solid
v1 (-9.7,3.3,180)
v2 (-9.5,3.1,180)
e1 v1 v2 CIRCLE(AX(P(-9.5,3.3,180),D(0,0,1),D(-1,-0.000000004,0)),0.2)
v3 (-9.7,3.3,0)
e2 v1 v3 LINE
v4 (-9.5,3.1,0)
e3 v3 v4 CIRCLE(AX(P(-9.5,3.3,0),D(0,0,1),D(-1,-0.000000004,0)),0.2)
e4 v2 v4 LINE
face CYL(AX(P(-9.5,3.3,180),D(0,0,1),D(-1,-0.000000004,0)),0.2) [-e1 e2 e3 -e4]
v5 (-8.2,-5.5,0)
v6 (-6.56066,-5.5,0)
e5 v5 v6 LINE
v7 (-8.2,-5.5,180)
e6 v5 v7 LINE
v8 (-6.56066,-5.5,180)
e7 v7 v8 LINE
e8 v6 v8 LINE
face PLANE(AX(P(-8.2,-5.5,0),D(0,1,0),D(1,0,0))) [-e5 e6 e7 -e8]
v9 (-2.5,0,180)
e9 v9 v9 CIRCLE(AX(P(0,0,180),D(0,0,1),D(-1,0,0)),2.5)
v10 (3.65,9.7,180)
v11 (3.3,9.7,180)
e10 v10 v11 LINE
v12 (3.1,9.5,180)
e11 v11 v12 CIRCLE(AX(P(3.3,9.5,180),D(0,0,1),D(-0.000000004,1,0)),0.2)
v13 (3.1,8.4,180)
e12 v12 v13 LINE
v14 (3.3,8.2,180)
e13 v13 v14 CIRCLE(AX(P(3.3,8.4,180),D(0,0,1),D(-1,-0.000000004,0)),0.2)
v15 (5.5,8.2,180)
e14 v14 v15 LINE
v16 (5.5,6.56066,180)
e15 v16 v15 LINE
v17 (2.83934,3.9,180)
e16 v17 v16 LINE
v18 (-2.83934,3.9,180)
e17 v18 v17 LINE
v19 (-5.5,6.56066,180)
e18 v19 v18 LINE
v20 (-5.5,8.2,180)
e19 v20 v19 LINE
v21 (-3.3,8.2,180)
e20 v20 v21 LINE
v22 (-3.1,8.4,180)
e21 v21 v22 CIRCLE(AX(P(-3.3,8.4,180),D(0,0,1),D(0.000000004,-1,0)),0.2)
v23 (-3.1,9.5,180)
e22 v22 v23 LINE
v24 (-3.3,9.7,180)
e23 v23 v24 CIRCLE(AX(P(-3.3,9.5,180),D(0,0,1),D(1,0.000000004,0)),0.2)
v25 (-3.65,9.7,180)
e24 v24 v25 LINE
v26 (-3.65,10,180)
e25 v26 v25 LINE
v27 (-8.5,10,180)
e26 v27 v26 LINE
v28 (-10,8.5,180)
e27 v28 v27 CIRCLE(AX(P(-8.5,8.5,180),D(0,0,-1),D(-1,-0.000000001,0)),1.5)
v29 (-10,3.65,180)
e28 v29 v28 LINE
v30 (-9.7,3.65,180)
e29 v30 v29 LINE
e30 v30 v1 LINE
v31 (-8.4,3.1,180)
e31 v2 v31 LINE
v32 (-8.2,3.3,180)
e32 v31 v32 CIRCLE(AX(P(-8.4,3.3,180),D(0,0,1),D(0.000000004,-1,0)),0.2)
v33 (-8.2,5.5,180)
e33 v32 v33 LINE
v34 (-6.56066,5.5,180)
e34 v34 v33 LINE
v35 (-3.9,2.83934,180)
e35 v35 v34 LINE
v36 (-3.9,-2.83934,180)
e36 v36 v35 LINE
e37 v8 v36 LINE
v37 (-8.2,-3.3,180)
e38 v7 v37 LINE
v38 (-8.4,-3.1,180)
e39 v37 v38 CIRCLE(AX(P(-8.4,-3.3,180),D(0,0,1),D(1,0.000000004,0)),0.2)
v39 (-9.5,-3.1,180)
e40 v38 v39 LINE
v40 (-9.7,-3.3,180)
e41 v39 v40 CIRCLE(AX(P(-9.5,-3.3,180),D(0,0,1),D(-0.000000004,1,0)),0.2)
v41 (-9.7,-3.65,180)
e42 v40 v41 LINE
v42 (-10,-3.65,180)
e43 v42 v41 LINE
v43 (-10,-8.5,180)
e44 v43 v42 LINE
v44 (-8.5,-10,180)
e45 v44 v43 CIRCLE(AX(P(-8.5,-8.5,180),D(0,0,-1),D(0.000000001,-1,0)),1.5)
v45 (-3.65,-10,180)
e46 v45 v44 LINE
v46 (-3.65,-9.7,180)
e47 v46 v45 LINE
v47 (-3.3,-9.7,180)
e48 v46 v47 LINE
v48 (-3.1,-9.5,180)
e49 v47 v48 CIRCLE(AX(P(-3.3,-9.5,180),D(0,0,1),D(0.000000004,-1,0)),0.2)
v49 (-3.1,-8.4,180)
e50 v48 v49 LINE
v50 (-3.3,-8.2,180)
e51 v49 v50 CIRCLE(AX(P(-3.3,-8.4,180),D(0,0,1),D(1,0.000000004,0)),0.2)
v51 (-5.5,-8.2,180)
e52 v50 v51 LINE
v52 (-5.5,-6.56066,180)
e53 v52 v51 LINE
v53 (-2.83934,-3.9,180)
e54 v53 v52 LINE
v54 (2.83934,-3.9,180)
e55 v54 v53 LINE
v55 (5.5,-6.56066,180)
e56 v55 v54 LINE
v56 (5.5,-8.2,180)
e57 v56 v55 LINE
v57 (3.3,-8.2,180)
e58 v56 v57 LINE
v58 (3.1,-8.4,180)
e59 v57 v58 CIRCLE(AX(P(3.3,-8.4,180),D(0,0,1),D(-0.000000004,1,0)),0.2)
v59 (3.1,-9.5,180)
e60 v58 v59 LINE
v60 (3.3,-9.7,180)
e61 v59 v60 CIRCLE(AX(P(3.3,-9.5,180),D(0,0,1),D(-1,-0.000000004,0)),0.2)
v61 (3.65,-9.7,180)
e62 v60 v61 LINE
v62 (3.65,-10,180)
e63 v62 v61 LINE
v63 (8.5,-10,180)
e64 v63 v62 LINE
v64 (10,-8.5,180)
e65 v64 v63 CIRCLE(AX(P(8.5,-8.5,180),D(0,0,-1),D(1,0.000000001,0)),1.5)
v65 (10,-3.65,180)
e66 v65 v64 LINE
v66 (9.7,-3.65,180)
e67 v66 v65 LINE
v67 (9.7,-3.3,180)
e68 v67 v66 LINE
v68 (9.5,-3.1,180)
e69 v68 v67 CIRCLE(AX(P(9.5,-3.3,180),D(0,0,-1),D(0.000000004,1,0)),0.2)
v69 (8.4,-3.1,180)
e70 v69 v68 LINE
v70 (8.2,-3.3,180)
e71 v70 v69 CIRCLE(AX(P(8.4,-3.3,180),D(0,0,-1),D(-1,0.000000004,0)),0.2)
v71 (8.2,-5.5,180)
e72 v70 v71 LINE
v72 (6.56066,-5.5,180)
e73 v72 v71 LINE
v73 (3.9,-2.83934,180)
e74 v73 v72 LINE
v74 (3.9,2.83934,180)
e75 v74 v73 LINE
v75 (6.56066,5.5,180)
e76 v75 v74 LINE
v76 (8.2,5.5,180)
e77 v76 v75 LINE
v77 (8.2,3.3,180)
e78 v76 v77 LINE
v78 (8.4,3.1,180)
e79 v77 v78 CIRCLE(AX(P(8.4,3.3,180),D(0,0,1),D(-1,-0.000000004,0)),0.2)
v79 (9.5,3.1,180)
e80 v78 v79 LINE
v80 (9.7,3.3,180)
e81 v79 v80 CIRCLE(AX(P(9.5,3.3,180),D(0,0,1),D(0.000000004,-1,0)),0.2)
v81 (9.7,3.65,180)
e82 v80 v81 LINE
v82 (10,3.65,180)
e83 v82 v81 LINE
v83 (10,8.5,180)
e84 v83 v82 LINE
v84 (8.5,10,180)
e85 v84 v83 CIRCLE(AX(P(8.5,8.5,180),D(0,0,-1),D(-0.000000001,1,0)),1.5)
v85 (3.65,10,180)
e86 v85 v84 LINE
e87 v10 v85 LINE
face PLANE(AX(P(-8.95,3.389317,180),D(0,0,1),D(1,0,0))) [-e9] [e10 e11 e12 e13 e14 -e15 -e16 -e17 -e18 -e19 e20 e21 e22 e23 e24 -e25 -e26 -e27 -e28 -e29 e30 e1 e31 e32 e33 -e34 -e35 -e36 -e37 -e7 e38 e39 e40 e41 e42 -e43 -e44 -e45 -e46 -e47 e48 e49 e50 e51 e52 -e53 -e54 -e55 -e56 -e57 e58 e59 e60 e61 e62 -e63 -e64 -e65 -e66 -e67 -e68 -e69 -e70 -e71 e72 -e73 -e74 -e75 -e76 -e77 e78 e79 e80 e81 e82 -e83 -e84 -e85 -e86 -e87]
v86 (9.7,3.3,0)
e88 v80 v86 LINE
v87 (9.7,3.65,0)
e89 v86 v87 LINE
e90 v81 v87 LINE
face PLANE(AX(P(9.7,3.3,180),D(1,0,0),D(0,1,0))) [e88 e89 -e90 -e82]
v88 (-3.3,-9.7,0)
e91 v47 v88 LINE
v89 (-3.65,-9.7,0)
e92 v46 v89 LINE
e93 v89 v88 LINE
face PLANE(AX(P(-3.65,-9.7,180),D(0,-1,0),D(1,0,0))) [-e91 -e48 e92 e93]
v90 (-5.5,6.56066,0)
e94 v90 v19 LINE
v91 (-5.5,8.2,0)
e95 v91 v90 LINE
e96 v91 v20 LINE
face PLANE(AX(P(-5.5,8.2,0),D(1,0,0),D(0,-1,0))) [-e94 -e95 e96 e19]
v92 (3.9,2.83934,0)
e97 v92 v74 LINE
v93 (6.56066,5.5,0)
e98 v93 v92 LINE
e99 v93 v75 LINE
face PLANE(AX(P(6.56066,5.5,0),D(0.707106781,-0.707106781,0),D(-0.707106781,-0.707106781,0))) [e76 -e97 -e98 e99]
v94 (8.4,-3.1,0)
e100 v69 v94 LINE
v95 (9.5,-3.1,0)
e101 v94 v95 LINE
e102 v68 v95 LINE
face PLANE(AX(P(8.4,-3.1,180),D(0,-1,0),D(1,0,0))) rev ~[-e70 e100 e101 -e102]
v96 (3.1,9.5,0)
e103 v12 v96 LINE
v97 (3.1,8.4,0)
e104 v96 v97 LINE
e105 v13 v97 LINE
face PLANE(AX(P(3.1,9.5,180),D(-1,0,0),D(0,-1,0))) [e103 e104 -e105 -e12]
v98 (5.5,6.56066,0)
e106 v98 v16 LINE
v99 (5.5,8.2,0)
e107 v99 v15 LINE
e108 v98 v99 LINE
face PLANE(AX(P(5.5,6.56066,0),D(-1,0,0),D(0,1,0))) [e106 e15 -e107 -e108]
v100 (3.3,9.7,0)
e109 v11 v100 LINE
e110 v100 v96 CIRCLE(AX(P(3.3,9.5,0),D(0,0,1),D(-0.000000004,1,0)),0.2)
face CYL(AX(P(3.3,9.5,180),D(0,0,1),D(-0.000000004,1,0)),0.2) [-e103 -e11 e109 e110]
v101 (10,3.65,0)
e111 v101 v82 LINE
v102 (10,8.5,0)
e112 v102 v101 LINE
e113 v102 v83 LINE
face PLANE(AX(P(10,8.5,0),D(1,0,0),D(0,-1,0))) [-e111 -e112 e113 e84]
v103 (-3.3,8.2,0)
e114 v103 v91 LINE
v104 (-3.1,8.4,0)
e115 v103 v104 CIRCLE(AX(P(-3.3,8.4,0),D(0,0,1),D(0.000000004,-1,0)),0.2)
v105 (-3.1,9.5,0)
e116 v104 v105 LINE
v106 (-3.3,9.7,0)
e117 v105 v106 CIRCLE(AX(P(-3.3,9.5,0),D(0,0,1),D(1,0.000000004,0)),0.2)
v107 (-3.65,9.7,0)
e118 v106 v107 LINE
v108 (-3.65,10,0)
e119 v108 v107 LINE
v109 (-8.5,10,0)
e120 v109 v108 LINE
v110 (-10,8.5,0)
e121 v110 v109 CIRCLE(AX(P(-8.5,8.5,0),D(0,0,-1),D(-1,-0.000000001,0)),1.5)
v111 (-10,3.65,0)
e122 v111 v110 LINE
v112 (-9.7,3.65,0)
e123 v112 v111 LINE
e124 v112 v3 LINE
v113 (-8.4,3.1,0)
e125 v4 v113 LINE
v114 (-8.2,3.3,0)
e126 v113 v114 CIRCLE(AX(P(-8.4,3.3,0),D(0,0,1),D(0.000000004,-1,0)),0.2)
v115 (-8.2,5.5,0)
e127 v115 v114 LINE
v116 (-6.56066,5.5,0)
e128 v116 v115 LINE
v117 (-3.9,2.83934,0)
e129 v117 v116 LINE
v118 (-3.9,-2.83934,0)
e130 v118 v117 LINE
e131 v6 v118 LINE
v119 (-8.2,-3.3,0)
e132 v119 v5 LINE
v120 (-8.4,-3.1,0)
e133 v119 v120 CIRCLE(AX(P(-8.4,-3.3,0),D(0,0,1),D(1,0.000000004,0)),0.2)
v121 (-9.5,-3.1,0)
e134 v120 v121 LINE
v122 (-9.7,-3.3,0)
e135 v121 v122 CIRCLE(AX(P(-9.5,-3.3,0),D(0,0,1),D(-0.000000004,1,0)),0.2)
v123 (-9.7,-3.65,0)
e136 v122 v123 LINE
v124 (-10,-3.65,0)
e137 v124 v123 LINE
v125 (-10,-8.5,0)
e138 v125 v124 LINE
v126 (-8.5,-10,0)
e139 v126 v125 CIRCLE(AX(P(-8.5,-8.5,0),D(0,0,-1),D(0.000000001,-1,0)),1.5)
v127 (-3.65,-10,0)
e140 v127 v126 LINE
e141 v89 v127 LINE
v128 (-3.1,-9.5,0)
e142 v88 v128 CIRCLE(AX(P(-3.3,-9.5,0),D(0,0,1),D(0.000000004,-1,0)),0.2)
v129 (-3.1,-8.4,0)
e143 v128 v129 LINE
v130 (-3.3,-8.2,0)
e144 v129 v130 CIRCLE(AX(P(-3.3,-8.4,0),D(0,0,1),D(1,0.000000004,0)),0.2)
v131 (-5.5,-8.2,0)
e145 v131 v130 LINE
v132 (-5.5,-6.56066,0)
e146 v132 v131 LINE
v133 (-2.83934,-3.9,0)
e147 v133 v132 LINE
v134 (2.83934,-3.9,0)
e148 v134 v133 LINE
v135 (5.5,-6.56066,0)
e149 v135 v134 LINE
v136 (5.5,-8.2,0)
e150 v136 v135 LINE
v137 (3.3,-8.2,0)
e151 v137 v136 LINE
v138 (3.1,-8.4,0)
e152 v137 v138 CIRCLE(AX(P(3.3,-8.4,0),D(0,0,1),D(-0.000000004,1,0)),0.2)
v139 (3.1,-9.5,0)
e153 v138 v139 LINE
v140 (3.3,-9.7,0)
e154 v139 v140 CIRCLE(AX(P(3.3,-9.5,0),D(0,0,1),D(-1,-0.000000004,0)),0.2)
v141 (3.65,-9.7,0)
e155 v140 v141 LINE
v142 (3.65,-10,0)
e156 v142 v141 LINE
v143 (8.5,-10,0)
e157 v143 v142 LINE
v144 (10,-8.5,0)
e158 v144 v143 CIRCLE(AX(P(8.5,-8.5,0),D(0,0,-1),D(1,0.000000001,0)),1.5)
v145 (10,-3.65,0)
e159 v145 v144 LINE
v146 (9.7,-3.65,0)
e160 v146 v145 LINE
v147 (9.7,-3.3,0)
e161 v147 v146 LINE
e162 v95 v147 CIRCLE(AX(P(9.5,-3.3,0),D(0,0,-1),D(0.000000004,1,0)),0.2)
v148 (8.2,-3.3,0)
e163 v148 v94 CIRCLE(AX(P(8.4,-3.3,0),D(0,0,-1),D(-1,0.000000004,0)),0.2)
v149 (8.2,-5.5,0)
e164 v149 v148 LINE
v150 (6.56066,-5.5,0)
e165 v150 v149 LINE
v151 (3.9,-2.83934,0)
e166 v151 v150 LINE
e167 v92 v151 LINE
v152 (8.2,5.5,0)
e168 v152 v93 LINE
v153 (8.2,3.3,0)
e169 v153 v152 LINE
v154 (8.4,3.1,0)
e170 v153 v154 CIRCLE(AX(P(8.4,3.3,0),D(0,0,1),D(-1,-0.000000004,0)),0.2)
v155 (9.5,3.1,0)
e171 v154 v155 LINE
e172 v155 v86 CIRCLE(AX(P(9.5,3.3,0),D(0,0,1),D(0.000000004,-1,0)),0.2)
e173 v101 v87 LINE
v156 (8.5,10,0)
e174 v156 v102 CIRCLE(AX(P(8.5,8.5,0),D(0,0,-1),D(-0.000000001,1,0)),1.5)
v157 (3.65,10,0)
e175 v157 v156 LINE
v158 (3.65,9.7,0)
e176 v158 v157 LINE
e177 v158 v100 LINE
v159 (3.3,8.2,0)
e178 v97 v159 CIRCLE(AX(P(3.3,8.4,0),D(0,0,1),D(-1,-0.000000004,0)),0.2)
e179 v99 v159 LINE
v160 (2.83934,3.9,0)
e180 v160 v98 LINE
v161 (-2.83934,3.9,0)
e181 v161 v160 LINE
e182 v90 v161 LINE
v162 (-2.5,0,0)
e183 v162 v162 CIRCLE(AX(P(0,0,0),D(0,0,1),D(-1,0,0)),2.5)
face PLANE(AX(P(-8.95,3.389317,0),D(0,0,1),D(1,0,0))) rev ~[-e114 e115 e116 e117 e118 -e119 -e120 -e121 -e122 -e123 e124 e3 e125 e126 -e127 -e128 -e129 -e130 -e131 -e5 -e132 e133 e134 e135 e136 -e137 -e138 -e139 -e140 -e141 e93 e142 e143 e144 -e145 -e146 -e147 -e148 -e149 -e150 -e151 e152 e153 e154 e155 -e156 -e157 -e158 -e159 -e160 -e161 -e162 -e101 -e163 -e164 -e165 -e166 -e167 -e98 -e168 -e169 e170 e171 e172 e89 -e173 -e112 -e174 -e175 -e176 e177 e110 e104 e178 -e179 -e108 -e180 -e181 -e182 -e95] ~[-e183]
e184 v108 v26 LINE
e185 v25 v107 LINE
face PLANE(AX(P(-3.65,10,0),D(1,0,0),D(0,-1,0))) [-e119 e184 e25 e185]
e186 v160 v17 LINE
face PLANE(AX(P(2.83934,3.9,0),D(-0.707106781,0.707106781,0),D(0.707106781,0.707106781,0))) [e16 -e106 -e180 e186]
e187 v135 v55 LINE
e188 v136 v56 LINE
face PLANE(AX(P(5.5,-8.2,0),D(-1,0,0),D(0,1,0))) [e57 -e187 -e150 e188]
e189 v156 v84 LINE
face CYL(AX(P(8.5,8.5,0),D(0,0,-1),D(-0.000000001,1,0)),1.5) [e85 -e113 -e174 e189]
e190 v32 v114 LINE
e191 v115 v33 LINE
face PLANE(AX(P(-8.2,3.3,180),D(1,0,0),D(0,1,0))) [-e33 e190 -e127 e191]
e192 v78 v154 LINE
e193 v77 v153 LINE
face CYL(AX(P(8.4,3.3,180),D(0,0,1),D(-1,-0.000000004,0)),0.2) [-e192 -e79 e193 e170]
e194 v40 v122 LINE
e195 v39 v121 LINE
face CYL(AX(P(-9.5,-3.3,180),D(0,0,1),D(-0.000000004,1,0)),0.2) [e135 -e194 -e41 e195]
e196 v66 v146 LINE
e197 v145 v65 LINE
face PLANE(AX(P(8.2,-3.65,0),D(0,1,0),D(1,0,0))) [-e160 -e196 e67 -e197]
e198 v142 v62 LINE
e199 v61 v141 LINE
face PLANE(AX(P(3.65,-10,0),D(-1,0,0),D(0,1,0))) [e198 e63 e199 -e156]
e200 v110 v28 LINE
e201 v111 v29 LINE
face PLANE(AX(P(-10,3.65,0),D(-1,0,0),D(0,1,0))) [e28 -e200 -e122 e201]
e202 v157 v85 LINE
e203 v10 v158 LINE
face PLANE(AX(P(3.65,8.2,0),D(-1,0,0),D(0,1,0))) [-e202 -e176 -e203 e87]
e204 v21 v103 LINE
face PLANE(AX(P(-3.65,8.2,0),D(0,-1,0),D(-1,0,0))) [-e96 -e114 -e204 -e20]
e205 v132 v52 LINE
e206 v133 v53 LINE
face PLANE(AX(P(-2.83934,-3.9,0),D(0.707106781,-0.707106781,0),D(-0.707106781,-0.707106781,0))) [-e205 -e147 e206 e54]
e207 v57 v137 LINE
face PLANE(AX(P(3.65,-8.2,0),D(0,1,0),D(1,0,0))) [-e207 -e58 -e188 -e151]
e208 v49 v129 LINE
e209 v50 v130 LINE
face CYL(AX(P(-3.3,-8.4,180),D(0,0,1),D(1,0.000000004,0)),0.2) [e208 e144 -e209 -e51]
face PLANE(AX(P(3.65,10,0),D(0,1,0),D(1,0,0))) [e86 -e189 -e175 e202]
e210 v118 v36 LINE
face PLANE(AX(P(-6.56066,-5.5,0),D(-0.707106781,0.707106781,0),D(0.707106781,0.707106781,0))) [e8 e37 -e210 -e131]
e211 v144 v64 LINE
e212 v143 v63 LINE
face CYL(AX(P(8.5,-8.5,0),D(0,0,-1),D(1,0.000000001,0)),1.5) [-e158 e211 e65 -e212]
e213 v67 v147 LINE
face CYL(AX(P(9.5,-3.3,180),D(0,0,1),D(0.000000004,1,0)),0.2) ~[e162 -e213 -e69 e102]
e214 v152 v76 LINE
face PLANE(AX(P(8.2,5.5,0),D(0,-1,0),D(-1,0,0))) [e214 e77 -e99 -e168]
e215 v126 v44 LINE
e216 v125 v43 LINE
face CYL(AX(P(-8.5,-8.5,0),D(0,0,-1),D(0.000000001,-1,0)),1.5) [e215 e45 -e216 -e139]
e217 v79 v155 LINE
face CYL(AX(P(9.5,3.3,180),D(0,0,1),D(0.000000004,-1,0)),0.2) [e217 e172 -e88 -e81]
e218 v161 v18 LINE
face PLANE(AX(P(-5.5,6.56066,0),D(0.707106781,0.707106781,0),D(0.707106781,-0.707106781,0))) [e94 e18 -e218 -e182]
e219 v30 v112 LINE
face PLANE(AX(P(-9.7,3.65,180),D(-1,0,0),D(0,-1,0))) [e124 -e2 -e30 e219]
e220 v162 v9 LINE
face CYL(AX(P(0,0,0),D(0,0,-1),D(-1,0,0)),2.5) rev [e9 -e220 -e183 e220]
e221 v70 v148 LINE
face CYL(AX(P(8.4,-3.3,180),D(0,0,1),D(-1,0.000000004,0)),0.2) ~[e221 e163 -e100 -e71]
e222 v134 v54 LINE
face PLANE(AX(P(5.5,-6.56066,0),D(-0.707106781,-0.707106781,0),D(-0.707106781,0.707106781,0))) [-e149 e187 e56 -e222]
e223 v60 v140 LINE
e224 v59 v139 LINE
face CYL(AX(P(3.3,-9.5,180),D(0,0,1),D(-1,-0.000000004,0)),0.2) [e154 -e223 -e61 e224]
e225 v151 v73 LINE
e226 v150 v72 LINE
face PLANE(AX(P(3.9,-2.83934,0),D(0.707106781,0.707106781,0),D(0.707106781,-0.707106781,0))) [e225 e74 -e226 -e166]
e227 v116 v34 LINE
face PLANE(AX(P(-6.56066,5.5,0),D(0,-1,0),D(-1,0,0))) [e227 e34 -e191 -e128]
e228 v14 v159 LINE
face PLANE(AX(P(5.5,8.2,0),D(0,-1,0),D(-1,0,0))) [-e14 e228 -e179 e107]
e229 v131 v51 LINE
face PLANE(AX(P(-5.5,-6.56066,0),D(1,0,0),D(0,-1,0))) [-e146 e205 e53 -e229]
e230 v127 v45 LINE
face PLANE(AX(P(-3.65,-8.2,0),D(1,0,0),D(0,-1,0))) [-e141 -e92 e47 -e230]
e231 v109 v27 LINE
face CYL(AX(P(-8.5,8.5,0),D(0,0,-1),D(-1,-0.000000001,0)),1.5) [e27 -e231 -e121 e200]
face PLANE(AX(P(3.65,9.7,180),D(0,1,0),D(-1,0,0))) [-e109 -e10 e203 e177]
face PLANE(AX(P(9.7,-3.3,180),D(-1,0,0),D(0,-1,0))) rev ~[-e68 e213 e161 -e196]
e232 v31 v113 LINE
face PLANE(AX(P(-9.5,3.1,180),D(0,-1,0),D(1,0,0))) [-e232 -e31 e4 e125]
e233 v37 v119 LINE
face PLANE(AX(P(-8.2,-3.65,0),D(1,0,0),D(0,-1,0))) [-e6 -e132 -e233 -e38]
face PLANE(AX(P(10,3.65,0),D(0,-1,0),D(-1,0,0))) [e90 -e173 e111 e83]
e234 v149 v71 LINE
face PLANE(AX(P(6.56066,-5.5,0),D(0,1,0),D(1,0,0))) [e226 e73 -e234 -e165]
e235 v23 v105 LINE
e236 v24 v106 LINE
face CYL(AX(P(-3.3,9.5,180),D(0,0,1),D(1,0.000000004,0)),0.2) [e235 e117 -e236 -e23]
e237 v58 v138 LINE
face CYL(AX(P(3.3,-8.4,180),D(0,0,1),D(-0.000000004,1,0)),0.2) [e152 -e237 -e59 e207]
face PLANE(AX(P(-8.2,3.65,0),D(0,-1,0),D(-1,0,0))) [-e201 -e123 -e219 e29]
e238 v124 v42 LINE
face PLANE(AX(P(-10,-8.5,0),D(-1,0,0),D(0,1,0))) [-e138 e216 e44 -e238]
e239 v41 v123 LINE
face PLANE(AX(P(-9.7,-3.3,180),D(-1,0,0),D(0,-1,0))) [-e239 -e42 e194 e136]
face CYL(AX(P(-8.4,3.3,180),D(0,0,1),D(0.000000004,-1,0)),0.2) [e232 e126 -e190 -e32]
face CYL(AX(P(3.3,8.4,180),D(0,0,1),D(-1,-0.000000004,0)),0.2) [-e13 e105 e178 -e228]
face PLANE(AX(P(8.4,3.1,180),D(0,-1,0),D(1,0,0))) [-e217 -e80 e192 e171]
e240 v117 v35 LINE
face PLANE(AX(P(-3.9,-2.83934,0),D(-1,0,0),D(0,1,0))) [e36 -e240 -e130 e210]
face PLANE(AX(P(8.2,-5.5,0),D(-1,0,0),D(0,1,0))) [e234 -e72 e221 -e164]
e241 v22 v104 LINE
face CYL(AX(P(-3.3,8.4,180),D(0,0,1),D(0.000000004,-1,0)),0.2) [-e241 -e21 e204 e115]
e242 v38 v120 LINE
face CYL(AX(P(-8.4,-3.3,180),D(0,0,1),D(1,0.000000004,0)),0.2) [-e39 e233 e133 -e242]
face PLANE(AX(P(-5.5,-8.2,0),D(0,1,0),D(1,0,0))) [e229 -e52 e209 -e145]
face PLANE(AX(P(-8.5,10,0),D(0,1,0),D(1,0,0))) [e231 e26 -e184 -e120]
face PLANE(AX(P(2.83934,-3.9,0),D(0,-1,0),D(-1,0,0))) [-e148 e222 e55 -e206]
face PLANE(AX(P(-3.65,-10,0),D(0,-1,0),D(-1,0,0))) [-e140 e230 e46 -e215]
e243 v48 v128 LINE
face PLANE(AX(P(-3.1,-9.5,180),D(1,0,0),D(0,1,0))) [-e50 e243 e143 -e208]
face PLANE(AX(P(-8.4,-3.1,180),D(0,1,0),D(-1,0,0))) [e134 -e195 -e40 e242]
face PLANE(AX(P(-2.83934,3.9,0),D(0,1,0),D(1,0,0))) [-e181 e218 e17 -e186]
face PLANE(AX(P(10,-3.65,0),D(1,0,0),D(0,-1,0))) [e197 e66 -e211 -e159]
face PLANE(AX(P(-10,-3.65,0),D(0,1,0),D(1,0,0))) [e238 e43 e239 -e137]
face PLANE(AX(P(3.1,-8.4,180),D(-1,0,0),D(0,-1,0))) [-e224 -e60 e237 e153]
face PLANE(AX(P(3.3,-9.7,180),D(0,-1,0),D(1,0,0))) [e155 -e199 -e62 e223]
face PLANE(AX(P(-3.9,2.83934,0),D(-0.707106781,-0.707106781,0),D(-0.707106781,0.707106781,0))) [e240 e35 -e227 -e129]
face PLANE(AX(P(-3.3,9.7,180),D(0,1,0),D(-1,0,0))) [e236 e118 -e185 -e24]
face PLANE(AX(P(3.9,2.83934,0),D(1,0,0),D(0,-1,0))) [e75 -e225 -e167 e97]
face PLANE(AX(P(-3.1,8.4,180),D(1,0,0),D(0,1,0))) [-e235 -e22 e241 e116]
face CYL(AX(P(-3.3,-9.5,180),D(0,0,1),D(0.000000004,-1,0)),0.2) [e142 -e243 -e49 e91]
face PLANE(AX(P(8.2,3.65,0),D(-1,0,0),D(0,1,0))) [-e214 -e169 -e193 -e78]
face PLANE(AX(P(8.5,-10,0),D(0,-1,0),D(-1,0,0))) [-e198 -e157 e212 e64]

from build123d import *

# Parameters (mm, degrees)
SKETCH_1_R      = 2.5
EXTRUDE_2_DEPTH = 180
EXTRUDE_3_DEPTH = 180


with BuildPart() as part:
    # 草图1 → 凸台-拉伸2 (new body)
    with BuildSketch(Plane.XY):
        with BuildLine():
            Line((3.65, 10), (8.5, 10))
            ThreePointArc((8.5, 10), (9.560660172, 9.560660172), (10, 8.5))
            Line((10, 8.5), (10, 3.65))
            Line((10, 3.65), (8.2, 3.65))
            Line((8.2, 3.65), (8.2, 5.5))
            Line((8.2, 5.5), (6.560660172, 5.5))
            Line((6.560660172, 5.5), (3.9, 2.839339828))
            Line((3.9, 2.839339828), (3.9, -2.839339828))
            Line((3.9, -2.839339828), (6.560660172, -5.5))
            Line((6.560660172, -5.5), (8.2, -5.5))
            Line((8.2, -5.5), (8.2, -3.65))
            Line((8.2, -3.65), (10, -3.65))
            Line((10, -3.65), (10, -8.5))
            ThreePointArc((10, -8.5), (9.560660172, -9.560660172), (8.5, -10))
            Line((8.5, -10), (3.65, -10))
            Line((3.65, -10), (3.65, -8.2))
            Line((3.65, -8.2), (5.5, -8.2))
            Line((5.5, -8.2), (5.5, -6.560660172))
            Line((5.5, -6.560660172), (2.839339828, -3.9))
            Line((2.839339828, -3.9), (-2.839339828, -3.9))
            Line((-2.839339828, -3.9), (-5.5, -6.560660172))
            Line((-5.5, -6.560660172), (-5.5, -8.2))
            Line((-5.5, -8.2), (-3.65, -8.2))
            Line((-3.65, -8.2), (-3.65, -10))
            Line((-3.65, -10), (-8.5, -10))
            ThreePointArc((-8.5, -10), (-9.560660172, -9.560660172), (-10, -8.5))
            Line((-10, -8.5), (-10, -3.65))
            Line((-10, -3.65), (-8.2, -3.65))
            Line((-8.2, -3.65), (-8.2, -5.5))
            Line((-8.2, -5.5), (-6.560660172, -5.5))
            Line((-6.560660172, -5.5), (-3.9, -2.839339828))
            Line((-3.9, -2.839339828), (-3.9, 2.839339828))
            Line((-3.9, 2.839339828), (-6.560660172, 5.5))
            Line((-6.560660172, 5.5), (-8.2, 5.5))
            Line((-8.2, 5.5), (-8.2, 3.65))
            Line((-8.2, 3.65), (-10, 3.65))
            Line((-10, 3.65), (-10, 8.5))
            ThreePointArc((-10, 8.5), (-9.560660172, 9.560660172), (-8.5, 10))
            Line((-8.5, 10), (-3.65, 10))
            Line((-3.65, 10), (-3.65, 8.2))
            Line((-3.65, 8.2), (-5.5, 8.2))
            Line((-5.5, 8.2), (-5.5, 6.560660172))
            Line((-5.5, 6.560660172), (-2.839339828, 3.9))
            Line((-2.839339828, 3.9), (2.839339828, 3.9))
            Line((2.839339828, 3.9), (5.5, 6.560660172))
            Line((5.5, 6.560660172), (5.5, 8.2))
            Line((5.5, 8.2), (3.65, 8.2))
            Line((3.65, 8.2), (3.65, 10))
        make_face()
        with Locations(Location((0, 0, 0), (0, 0, 180))):
            Circle(SKETCH_1_R, mode=Mode.SUBTRACT)
    extrude(amount=EXTRUDE_2_DEPTH)

    # 草图3 → 凸台-拉伸3 (add)
    with BuildSketch(Plane.XY.offset(180)):
        with BuildLine():
            Line((-8.2, 3.65), (-9.7, 3.65))
            Line((-9.7, 3.65), (-9.7, 3.3))
            ThreePointArc((-9.7, 3.3), (-9.641421356, 3.158578644), (-9.5, 3.1))
            Line((-9.5, 3.1), (-8.4, 3.1))
            ThreePointArc((-8.4, 3.1), (-8.258578644, 3.158578644), (-8.2, 3.3))
            Line((-8.2, 3.3), (-8.2, 3.65))
        make_face()
        with BuildLine():
            Line((-3.65, 9.7), (-3.65, 8.2))
            Line((-3.65, 8.2), (-3.3, 8.2))
            ThreePointArc((-3.3, 8.2), (-3.158578644, 8.258578644), (-3.1, 8.4))
            Line((-3.1, 8.4), (-3.1, 9.5))
            ThreePointArc((-3.1, 9.5), (-3.158578644, 9.641421356), (-3.3, 9.7))
            Line((-3.3, 9.7), (-3.65, 9.7))
        make_face()
        with BuildLine():
            Line((3.65, 8.2), (3.65, 9.7))
            Line((3.65, 9.7), (3.3, 9.7))
            ThreePointArc((3.3, 9.7), (3.158578644, 9.641421356), (3.1, 9.5))
            Line((3.1, 9.5), (3.1, 8.4))
            ThreePointArc((3.1, 8.4), (3.158578644, 8.258578644), (3.3, 8.2))
            Line((3.3, 8.2), (3.65, 8.2))
        make_face()
        with BuildLine():
            Line((9.7, 3.65), (8.2, 3.65))
            Line((8.2, 3.65), (8.2, 3.3))
            ThreePointArc((8.2, 3.3), (8.258578644, 3.158578644), (8.4, 3.1))
            Line((8.4, 3.1), (9.5, 3.1))
            ThreePointArc((9.5, 3.1), (9.641421356, 3.158578644), (9.7, 3.3))
            Line((9.7, 3.3), (9.7, 3.65))
        make_face()
        with BuildLine():
            Line((3.65, -9.7), (3.65, -8.2))
            Line((3.65, -8.2), (3.3, -8.2))
            ThreePointArc((3.3, -8.2), (3.158578644, -8.258578644), (3.1, -8.4))
            Line((3.1, -8.4), (3.1, -9.5))
            ThreePointArc((3.1, -9.5), (3.158578644, -9.641421356), (3.3, -9.7))
            Line((3.3, -9.7), (3.65, -9.7))
        make_face()
        with BuildLine():
            Line((-3.65, -8.2), (-3.65, -9.7))
            Line((-3.65, -9.7), (-3.3, -9.7))
            ThreePointArc((-3.3, -9.7), (-3.158578644, -9.641421356), (-3.1, -9.5))
            Line((-3.1, -9.5), (-3.1, -8.4))
            ThreePointArc((-3.1, -8.4), (-3.158578644, -8.258578644), (-3.3, -8.2))
            Line((-3.3, -8.2), (-3.65, -8.2))
        make_face()
        with BuildLine():
            Line((8.2, -3.65), (8.2, -3.3))
            ThreePointArc((8.2, -3.3), (8.258578644, -3.158578644), (8.4, -3.1))
            Line((8.4, -3.1), (9.5, -3.1))
            ThreePointArc((9.5, -3.1), (9.641421356, -3.158578644), (9.7, -3.3))
            Line((9.7, -3.3), (9.7, -3.65))
            Line((9.7, -3.65), (8.2, -3.65))
        make_face()
        with BuildLine():
            Line((-8.2, -3.65), (-8.2, -3.3))
            ThreePointArc((-8.2, -3.3), (-8.258578644, -3.158578644), (-8.4, -3.1))
            Line((-8.4, -3.1), (-9.5, -3.1))
            ThreePointArc((-9.5, -3.1), (-9.641421356, -3.158578644), (-9.7, -3.3))
            Line((-9.7, -3.3), (-9.7, -3.65))
            Line((-9.7, -3.65), (-8.2, -3.65))
        make_face()
    extrude(amount=-EXTRUDE_3_DEPTH)


solid = part.part
